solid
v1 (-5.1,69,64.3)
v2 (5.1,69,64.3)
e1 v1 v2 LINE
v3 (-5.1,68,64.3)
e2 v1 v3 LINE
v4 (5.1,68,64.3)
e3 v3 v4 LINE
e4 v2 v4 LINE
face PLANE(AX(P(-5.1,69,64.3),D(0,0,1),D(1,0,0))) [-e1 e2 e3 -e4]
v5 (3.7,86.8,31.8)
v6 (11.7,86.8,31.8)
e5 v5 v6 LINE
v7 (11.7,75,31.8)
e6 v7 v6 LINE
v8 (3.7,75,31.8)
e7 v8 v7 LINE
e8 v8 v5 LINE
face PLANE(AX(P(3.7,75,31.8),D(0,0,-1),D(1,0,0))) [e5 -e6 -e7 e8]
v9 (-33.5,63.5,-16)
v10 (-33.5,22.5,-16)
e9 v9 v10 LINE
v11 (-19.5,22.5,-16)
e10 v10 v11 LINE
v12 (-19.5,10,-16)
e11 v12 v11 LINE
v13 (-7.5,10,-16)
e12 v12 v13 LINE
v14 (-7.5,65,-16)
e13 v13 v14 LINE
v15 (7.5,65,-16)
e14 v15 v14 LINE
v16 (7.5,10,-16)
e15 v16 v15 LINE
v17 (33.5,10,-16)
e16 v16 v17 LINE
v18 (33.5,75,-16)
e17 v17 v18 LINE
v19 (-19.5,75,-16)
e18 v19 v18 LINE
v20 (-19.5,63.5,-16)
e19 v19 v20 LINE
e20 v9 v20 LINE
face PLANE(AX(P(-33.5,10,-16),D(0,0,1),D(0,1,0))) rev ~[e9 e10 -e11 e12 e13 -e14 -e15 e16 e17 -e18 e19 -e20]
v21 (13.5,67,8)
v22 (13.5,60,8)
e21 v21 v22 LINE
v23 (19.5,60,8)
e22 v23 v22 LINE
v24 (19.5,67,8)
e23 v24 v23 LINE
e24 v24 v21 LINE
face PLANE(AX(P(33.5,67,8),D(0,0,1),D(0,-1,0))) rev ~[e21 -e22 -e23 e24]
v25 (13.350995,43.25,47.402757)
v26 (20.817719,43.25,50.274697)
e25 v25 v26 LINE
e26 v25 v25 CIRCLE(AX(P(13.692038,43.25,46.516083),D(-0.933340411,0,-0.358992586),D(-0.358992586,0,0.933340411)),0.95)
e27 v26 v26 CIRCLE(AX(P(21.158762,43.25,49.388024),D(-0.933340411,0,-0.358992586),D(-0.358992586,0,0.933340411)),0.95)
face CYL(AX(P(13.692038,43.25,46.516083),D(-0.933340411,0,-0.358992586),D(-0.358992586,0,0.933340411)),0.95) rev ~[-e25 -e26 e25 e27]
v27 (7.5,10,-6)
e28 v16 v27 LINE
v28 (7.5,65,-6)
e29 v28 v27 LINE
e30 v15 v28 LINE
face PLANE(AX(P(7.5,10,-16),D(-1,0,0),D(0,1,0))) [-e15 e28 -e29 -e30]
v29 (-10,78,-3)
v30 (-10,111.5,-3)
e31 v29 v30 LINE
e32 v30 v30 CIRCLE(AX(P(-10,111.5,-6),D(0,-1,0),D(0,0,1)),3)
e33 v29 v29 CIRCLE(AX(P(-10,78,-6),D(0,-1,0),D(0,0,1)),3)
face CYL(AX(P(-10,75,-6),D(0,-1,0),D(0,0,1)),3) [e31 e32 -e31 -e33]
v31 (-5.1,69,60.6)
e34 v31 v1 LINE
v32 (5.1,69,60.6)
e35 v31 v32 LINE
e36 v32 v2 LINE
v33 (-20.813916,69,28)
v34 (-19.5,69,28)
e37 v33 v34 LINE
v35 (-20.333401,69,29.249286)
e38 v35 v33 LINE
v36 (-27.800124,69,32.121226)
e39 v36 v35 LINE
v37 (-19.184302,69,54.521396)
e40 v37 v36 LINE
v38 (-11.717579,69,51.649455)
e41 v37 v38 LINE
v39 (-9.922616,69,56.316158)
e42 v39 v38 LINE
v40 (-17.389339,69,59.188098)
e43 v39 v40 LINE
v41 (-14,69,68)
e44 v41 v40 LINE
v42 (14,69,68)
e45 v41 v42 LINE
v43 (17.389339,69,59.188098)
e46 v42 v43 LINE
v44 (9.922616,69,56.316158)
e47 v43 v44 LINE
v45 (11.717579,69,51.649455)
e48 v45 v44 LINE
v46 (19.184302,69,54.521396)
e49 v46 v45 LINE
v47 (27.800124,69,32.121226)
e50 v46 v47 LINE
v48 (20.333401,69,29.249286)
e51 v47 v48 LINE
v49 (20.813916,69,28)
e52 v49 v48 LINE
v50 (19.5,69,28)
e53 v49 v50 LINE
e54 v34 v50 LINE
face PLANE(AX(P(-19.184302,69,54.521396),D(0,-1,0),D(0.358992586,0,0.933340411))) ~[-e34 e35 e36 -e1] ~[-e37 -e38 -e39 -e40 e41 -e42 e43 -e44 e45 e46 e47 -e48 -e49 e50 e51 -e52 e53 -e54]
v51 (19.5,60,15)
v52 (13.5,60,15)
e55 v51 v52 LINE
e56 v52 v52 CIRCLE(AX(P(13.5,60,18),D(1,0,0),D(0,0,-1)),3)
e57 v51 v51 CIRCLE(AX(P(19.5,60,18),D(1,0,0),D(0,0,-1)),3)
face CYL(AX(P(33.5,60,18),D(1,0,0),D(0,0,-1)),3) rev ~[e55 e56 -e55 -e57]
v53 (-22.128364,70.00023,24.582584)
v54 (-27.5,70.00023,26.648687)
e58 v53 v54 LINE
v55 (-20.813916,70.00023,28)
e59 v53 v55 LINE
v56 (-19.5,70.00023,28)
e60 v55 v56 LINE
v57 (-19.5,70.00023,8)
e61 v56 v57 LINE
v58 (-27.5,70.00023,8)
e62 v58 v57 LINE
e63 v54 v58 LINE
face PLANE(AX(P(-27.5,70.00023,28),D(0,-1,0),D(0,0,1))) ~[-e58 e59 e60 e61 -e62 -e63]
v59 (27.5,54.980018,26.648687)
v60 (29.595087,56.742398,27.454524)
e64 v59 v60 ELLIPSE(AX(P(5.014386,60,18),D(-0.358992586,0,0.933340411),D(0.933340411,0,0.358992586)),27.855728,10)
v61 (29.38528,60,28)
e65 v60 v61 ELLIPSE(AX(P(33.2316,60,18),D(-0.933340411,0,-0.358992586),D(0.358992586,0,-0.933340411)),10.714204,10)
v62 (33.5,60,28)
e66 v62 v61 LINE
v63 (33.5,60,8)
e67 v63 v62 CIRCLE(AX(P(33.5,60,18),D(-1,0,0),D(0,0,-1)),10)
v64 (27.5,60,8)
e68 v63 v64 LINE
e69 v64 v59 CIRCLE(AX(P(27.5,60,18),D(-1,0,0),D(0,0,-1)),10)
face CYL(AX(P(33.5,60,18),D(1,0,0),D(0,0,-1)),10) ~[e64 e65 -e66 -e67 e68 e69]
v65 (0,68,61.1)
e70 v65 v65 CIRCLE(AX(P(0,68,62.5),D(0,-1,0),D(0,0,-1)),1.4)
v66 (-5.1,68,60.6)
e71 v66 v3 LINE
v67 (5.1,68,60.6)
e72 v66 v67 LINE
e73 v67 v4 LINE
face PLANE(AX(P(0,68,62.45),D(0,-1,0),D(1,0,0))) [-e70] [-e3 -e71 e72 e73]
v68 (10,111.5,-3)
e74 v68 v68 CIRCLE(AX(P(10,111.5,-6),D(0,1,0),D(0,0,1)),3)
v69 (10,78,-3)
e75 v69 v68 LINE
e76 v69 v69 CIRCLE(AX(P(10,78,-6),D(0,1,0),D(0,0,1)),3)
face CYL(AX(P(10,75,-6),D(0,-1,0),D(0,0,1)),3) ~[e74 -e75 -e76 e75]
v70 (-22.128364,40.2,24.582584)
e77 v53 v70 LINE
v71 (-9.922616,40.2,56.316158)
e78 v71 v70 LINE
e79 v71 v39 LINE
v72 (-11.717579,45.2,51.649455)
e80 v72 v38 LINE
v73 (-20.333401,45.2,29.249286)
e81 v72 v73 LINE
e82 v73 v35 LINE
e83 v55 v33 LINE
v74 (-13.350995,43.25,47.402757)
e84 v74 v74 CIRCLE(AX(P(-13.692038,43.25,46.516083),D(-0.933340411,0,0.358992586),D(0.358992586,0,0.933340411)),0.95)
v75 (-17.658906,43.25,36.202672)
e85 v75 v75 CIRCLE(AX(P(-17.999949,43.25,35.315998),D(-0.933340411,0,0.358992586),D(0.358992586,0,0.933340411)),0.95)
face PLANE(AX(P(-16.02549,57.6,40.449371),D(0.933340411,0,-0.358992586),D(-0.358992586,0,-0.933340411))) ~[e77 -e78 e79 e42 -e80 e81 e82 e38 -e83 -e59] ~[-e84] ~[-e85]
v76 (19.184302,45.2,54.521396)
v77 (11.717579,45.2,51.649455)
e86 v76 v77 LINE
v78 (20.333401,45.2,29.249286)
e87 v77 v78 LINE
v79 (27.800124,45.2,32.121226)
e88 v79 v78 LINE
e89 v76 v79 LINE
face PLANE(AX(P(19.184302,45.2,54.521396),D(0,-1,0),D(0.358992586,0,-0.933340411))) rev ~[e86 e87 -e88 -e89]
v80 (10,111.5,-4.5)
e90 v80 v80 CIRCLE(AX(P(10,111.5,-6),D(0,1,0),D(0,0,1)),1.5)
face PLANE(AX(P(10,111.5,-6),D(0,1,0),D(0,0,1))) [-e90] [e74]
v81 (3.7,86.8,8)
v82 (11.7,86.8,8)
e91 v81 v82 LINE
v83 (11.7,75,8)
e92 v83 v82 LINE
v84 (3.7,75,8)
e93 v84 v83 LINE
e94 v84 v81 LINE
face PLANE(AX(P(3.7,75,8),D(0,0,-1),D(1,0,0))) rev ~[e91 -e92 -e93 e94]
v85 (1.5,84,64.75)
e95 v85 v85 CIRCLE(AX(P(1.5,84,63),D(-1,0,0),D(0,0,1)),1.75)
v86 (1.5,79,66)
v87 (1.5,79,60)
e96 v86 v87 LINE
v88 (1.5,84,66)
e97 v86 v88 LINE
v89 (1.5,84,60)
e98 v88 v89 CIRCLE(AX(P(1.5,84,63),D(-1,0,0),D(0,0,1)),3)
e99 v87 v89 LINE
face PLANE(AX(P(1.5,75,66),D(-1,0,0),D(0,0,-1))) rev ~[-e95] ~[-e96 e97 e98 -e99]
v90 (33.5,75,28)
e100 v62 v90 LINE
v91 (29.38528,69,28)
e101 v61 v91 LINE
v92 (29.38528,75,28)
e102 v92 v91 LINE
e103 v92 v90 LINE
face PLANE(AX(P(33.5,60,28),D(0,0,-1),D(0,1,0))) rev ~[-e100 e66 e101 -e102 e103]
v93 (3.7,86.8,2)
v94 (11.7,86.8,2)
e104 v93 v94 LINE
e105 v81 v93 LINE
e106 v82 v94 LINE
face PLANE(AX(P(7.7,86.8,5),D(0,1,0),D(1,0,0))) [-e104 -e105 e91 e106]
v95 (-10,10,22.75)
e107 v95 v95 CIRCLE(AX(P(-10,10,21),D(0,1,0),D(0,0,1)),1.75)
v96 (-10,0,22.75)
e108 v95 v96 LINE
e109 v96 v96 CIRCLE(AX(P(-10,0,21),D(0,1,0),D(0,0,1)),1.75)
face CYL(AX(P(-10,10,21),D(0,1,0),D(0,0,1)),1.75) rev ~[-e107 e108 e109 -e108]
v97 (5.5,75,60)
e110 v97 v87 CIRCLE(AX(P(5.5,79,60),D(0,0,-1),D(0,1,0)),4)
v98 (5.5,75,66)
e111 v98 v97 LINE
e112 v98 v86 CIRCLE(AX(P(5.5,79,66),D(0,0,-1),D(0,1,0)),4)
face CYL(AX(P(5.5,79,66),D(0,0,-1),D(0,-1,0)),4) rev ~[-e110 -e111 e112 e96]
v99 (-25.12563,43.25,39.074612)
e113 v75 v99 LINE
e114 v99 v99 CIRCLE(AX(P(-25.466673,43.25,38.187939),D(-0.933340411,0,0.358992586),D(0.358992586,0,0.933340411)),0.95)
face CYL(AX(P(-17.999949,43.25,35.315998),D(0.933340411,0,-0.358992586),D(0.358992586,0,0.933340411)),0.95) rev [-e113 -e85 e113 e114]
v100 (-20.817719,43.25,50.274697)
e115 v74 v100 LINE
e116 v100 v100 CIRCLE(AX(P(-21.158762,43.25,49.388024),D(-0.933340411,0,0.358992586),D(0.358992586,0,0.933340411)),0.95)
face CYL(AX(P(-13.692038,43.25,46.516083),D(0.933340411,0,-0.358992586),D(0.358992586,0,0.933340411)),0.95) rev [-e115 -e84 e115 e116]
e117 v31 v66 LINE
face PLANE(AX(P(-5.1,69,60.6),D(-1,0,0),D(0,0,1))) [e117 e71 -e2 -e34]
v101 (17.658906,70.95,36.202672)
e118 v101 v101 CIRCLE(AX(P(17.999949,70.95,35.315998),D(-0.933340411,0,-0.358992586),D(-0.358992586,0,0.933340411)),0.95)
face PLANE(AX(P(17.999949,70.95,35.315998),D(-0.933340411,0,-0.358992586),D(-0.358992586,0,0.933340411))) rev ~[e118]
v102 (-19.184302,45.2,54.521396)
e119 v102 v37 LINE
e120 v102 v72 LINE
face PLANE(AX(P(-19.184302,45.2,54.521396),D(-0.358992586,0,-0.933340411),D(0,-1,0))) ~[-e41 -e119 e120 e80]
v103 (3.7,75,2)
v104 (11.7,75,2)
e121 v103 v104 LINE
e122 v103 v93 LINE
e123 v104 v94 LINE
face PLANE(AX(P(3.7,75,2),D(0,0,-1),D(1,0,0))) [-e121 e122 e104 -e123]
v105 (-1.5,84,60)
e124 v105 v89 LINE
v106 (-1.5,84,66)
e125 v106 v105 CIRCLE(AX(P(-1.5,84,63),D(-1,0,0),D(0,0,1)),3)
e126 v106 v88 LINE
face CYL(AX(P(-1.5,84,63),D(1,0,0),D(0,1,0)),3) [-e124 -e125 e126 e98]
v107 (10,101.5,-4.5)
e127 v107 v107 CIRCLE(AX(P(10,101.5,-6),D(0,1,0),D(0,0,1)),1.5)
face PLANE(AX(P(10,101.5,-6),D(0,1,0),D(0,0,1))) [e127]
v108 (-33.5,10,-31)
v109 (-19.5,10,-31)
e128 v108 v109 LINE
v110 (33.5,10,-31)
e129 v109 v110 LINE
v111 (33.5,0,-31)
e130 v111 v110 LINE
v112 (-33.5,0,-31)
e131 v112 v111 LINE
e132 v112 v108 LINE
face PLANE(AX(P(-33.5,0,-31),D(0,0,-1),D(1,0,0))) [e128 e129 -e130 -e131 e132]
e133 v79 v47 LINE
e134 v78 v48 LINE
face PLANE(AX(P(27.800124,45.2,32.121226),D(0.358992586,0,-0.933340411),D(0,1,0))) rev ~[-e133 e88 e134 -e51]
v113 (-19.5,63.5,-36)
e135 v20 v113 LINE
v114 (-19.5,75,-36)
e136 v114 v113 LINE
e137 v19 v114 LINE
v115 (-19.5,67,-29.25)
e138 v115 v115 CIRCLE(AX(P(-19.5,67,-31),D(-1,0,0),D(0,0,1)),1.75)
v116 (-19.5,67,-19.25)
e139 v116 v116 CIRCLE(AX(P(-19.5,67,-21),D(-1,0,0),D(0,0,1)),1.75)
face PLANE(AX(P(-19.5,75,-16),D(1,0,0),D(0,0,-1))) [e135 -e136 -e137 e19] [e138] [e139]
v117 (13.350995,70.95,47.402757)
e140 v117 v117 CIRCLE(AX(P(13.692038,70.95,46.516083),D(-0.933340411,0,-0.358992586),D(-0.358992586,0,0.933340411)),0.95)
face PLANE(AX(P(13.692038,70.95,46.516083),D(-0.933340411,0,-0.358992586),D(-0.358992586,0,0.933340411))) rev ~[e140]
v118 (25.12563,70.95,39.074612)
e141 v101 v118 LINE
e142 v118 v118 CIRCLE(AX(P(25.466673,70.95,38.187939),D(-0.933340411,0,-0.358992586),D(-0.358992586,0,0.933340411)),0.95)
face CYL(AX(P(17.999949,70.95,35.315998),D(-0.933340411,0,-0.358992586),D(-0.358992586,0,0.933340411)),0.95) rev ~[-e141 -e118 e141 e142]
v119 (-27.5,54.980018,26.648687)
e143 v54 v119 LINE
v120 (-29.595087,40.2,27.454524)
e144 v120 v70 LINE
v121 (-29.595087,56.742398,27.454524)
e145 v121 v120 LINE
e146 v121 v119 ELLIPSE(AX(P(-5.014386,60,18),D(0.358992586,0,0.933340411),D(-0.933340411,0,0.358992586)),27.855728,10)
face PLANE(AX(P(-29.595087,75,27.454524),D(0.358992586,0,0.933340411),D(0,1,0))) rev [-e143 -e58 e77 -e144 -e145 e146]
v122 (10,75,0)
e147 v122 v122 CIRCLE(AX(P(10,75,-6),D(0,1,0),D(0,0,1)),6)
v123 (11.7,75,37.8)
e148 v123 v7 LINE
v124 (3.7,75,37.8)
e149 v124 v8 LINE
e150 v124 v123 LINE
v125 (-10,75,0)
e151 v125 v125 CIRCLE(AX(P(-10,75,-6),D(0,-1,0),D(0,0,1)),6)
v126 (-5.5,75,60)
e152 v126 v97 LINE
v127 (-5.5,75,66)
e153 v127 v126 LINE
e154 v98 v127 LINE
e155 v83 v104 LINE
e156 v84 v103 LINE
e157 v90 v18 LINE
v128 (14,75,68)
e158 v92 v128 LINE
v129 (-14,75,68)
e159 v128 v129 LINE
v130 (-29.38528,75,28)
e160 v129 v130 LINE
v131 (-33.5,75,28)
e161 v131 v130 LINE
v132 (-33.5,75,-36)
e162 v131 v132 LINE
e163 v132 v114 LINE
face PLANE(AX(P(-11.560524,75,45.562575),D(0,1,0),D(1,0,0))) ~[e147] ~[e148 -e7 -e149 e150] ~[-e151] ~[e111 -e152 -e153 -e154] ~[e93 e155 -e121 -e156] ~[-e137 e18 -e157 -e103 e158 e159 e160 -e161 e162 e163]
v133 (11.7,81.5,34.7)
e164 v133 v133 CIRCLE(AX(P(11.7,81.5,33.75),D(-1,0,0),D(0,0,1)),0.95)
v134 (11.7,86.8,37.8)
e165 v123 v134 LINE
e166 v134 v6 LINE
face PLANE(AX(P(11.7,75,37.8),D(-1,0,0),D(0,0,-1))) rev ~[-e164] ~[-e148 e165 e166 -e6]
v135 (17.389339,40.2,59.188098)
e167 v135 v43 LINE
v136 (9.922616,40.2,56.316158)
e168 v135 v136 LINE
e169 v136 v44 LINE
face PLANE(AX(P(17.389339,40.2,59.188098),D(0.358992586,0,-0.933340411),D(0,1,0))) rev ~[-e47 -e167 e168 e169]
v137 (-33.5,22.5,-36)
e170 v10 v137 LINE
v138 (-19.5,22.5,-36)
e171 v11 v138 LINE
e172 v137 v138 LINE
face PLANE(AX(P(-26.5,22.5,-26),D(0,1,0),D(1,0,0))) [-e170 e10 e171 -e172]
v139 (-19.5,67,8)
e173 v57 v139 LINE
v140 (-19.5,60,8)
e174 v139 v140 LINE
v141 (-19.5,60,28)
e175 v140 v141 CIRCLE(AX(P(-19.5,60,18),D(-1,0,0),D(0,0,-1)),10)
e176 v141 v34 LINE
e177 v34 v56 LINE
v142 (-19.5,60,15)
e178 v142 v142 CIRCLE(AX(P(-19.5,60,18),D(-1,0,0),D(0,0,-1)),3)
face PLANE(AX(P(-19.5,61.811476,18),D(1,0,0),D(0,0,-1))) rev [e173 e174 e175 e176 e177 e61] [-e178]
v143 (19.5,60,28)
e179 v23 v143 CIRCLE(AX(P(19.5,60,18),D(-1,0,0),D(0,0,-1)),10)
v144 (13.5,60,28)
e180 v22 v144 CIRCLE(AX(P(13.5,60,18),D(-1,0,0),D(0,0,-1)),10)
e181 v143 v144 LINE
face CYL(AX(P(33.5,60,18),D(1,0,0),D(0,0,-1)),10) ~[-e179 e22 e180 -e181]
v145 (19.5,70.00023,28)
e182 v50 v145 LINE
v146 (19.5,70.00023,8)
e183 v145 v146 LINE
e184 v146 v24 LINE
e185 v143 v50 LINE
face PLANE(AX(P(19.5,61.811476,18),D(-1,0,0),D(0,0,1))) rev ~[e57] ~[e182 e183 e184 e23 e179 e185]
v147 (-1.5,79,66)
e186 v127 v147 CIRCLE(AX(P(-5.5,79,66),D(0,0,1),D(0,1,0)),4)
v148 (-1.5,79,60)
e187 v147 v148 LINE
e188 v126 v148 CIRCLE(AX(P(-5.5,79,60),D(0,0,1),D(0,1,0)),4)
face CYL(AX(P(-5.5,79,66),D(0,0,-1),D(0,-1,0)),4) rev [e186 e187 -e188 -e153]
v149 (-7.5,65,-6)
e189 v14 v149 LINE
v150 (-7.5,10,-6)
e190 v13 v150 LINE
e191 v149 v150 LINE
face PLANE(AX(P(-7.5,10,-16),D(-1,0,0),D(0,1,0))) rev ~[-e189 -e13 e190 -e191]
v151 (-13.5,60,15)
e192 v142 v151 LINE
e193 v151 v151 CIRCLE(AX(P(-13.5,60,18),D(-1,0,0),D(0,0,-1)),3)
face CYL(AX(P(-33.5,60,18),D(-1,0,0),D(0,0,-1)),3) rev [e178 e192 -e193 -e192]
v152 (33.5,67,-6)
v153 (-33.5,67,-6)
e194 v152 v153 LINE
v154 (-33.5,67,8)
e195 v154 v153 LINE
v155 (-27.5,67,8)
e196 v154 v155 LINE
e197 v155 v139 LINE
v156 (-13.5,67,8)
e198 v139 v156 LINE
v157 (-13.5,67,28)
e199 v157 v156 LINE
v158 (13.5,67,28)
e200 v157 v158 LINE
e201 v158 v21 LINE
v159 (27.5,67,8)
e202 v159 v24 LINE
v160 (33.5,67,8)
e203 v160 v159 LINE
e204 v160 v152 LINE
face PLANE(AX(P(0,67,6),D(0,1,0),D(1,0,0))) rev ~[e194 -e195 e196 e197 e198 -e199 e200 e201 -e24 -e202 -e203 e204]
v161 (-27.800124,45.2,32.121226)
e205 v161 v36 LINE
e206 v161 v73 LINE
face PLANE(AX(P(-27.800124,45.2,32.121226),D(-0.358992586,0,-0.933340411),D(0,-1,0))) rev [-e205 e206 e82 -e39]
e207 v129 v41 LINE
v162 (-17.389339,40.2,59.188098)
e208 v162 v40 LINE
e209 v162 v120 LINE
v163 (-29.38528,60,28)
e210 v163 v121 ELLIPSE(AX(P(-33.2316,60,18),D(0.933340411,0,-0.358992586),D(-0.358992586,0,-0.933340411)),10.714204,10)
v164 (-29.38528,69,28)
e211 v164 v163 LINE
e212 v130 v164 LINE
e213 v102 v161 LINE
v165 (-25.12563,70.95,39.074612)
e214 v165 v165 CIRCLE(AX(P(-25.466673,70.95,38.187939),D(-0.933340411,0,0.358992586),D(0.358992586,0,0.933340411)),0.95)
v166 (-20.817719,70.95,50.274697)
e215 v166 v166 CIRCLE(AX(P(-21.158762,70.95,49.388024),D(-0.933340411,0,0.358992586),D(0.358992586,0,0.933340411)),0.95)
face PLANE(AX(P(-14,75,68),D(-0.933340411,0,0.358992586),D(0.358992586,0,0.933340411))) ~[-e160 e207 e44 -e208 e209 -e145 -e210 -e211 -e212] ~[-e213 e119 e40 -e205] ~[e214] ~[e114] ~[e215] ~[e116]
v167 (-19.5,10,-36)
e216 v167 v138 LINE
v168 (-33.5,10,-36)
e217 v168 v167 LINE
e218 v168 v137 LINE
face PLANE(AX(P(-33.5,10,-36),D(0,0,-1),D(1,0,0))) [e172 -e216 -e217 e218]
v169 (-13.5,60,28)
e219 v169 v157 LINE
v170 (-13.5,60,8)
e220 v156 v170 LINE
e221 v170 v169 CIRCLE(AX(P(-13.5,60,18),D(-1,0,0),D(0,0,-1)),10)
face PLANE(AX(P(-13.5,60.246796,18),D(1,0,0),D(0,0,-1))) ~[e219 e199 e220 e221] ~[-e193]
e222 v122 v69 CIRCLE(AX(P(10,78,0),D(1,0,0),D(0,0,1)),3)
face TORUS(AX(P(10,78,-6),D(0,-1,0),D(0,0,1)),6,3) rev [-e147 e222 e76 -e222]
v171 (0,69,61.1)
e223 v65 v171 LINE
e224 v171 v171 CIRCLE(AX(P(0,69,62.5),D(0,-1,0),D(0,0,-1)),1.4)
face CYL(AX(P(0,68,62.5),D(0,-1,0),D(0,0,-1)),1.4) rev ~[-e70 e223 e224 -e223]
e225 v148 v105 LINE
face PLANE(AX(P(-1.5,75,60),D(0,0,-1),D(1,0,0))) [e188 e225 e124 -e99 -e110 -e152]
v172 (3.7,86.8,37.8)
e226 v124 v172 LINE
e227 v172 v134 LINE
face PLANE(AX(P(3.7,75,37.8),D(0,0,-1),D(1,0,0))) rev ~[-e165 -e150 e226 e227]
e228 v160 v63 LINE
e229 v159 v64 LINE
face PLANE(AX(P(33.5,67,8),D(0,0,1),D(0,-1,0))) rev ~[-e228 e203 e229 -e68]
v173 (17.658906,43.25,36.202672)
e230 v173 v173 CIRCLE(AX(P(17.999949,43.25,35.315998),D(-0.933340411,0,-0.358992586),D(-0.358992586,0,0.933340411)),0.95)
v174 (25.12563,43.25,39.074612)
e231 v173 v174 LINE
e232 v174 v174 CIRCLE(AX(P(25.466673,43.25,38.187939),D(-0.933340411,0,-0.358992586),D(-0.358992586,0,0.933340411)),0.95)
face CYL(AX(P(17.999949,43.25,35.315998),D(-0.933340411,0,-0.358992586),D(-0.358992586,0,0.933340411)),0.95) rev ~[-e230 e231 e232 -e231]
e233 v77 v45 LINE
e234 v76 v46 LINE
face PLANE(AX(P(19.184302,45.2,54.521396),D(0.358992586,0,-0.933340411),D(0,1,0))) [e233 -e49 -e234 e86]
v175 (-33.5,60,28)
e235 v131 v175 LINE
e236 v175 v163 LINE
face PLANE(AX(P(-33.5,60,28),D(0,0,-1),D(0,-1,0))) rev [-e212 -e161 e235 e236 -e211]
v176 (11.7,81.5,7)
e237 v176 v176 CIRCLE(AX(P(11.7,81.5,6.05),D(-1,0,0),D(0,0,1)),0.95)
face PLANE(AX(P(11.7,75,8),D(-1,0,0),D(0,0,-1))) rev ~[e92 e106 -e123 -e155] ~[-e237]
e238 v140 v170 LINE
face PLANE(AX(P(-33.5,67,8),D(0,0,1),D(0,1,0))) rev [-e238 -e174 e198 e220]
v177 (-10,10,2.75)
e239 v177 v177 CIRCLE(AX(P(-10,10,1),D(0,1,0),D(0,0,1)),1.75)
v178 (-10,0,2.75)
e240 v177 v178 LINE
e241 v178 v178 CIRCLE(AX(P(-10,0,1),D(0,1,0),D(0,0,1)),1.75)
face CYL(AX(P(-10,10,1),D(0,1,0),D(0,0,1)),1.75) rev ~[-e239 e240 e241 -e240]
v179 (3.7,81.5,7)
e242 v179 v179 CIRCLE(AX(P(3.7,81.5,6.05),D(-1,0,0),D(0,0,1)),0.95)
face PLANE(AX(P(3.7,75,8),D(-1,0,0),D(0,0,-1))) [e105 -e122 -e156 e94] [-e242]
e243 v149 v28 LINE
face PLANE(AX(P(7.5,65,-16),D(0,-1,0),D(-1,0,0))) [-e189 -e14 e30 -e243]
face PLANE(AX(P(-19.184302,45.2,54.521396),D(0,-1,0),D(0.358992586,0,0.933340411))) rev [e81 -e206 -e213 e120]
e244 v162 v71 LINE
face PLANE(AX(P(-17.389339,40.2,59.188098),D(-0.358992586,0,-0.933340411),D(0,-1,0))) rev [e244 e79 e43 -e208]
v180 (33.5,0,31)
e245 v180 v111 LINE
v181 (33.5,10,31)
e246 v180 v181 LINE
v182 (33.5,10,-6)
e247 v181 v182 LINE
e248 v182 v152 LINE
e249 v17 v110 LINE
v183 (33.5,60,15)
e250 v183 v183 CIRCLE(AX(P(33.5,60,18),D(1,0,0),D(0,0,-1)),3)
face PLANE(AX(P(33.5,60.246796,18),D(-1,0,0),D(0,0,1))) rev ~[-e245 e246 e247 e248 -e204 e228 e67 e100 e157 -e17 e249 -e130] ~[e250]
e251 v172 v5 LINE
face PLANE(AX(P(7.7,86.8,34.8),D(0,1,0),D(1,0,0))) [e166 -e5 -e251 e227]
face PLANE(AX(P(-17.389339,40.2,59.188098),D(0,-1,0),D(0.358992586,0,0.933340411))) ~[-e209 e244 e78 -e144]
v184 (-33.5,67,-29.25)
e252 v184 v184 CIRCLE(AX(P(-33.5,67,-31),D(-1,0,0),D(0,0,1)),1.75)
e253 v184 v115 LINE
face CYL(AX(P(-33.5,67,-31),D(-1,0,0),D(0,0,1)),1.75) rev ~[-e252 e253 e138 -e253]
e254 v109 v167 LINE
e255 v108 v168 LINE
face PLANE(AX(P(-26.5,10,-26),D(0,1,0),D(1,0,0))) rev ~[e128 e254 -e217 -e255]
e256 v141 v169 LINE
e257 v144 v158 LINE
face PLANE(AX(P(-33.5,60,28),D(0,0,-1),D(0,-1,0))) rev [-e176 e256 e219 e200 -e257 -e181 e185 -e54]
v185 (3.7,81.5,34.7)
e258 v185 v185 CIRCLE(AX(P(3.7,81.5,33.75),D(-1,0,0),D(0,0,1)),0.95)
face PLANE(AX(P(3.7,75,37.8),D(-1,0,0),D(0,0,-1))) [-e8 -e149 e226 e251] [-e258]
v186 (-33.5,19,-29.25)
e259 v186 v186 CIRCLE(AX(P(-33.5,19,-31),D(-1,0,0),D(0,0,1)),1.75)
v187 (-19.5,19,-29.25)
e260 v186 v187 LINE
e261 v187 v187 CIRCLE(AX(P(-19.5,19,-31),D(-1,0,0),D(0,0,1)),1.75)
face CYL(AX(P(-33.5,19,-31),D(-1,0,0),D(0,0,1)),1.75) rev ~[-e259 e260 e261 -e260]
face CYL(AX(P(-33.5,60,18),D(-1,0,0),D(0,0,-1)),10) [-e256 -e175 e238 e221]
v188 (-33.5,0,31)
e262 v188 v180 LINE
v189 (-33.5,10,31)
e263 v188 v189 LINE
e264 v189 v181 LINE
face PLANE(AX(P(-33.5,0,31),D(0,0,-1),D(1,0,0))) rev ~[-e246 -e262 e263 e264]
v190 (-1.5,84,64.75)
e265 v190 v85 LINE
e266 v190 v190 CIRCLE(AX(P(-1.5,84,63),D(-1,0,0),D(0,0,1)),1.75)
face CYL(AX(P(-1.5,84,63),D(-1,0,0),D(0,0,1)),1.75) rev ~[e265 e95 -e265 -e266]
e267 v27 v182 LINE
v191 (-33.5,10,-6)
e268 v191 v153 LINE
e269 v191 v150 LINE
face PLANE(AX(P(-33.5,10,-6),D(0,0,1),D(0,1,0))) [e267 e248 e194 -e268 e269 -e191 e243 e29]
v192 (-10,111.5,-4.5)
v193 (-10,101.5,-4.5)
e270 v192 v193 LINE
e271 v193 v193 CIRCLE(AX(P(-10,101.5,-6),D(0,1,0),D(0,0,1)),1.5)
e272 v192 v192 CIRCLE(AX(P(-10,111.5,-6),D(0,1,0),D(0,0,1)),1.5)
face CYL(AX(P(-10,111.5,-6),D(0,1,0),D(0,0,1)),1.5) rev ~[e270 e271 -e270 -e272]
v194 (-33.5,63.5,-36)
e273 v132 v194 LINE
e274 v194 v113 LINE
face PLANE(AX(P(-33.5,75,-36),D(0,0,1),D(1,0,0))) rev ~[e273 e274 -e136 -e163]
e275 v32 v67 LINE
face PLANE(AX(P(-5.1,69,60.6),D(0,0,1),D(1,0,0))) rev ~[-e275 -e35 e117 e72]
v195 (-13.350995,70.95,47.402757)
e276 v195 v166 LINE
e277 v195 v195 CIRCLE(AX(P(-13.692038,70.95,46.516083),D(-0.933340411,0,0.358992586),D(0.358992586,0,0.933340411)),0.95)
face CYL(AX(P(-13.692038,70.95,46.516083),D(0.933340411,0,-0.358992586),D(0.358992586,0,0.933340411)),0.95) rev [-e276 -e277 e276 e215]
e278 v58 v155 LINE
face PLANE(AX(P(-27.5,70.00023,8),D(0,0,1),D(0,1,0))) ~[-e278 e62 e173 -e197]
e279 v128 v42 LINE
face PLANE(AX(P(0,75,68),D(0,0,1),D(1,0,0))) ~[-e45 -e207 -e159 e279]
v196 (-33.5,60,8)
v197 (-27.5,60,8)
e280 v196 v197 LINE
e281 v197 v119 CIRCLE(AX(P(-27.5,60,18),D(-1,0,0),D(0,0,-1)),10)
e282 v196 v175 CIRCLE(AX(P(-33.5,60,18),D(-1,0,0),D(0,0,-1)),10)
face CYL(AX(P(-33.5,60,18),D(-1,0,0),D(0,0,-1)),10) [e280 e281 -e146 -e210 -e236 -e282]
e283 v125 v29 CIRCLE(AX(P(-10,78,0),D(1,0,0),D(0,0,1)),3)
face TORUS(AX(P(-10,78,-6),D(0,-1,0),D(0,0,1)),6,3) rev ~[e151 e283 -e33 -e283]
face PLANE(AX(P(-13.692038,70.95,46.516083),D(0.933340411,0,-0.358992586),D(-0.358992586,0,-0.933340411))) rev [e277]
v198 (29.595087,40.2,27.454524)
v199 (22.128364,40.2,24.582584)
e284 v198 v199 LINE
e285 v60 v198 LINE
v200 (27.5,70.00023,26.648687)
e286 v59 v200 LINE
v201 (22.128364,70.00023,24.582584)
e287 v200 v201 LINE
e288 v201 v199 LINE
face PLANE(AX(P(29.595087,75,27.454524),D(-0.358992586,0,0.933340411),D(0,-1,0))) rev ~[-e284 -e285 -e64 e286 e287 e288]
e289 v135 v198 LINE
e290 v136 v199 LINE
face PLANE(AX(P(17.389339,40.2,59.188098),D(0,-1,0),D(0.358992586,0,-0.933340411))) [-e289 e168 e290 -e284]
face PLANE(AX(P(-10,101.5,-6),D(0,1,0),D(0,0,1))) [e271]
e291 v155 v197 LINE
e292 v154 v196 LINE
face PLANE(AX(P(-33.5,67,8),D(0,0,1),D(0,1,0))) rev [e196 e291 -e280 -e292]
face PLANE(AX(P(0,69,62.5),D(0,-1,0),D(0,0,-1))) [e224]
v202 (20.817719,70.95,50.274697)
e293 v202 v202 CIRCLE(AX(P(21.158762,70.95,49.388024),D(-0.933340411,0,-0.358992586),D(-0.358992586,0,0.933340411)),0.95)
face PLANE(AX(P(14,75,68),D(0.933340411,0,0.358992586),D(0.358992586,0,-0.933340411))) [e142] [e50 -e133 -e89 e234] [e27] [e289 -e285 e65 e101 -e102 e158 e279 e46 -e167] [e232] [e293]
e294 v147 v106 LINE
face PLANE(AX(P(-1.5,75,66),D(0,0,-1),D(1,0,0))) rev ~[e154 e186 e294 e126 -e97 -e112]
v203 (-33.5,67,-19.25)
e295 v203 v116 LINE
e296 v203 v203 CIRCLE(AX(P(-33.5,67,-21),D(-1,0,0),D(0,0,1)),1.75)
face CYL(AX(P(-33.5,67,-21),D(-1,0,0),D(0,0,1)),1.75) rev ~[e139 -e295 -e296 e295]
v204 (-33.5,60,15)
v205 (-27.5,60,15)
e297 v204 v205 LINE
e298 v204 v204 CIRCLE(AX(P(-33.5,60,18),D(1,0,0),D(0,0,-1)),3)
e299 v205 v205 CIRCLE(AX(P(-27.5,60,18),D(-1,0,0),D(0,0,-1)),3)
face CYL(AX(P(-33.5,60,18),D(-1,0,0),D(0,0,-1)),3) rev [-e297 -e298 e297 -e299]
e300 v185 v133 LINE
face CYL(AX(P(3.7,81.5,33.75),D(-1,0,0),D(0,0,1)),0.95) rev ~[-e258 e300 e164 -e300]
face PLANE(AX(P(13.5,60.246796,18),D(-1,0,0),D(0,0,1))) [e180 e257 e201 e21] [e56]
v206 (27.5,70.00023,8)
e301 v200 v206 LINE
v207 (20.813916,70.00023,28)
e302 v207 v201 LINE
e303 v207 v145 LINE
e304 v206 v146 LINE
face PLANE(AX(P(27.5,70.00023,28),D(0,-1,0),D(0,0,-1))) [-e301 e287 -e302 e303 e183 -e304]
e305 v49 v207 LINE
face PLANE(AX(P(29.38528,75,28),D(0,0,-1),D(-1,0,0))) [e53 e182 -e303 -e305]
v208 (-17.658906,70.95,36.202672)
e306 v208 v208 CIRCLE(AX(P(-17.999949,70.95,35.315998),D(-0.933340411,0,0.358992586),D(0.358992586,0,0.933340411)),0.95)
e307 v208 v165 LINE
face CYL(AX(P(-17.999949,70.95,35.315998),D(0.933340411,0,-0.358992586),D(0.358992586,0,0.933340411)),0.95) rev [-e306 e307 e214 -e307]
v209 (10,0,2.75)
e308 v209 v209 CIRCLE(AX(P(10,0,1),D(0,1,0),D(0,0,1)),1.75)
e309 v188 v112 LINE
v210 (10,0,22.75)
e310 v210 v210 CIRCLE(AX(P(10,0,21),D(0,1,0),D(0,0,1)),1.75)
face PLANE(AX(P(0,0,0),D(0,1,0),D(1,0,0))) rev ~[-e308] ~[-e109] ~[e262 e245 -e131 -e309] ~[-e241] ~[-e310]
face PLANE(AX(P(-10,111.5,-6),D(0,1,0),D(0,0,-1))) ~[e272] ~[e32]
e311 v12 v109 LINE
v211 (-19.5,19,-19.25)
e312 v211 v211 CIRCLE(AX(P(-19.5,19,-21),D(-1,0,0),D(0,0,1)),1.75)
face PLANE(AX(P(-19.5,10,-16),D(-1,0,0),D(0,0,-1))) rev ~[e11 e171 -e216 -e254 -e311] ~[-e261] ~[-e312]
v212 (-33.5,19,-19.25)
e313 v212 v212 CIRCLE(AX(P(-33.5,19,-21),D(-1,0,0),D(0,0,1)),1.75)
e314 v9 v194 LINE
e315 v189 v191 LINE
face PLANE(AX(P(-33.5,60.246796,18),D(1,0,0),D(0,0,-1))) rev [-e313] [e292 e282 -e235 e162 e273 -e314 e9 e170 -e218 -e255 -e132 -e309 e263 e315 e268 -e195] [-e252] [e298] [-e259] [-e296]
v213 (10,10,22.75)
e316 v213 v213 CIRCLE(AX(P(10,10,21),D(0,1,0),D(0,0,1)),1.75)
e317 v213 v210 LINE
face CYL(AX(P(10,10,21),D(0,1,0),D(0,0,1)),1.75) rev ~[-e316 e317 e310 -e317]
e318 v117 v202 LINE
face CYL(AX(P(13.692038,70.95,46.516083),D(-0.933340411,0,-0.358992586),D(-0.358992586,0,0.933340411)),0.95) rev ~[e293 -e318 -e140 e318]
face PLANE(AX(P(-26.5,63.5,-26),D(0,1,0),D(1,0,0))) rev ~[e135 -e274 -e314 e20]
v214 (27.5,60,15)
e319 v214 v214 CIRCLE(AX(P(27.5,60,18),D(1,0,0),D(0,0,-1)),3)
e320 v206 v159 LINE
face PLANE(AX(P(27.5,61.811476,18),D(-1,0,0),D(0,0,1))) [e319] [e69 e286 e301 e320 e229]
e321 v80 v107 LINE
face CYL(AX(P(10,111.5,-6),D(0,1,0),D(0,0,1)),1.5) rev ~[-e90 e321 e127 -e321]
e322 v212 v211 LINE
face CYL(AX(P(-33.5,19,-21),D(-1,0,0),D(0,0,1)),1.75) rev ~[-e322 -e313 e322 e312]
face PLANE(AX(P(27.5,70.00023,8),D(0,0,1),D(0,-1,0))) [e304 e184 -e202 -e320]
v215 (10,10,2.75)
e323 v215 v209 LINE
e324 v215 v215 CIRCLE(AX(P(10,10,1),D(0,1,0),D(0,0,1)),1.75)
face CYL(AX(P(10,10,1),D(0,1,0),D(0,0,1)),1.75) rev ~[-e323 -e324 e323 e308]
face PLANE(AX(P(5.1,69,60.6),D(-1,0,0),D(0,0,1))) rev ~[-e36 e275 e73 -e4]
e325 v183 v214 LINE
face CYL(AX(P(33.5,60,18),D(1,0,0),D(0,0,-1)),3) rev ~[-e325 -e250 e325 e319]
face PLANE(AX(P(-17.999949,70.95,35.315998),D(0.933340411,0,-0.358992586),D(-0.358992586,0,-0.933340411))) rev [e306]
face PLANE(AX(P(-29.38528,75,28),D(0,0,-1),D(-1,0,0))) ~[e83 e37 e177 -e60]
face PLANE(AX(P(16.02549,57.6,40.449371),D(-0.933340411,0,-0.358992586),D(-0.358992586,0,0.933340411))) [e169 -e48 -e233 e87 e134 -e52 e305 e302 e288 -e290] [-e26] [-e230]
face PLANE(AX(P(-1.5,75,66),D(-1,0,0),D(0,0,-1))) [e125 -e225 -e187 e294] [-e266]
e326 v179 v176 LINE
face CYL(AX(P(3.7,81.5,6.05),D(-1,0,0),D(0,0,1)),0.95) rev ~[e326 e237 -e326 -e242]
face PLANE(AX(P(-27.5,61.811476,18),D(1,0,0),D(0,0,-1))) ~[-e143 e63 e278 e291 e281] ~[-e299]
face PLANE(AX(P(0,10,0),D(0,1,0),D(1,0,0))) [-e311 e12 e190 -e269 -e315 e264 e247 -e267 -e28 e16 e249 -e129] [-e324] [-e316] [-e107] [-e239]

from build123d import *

# Parameters (mm, degrees)
SKETCH_1_W             = 67
SKETCH_1_H             = 62
EXTRUDE_1_DEPTH        = 10
SKETCH_3_W             = 14
SKETCH_3_H             = 20
EXTRUDE_2_DEPTH        = 12.5
SKETCH_4_W             = 10
SKETCH_4_H             = 65
EXTRUDE_3_DEPTH        = 67
SKETCH_5_W             = 67
SKETCH_5_H             = 44
EXTRUDE_4_DEPTH        = 8
EXTRUDE_5_DEPTH        = 20
CUT_EXTRUDE_START      = -6
CUT_EXTRUDE_1_DEPTH    = 8
EXTRUDE_6_DEPTH        = 6
SKETCH_9_R             = 3
CUT_EXTRUDE_2_DEPTH    = 23
SKETCH_10_W            = 24
SKETCH_10_H            = 23.8
EXTRUDE_7_DEPTH        = 8
SKETCH_12_W            = 14
SKETCH_12_H            = 20
EXTRUDE_8_DEPTH        = 11.5
SKETCH_13_R            = 0.95
CUT_EXTRUDE_4_DEPTH    = 8
SKETCH_14_W            = 8
SKETCH_14_H            = 6
EXTRUDE_9_DEPTH        = 11.8
SKETCH_15_R            = 0.95
CUT_EXTRUDE_5_DEPTH    = 11.8
SKETCH_16_W            = 3
SKETCH_16_H            = 6
EXTRUDE_10_DEPTH       = 12
FILLET_1_RADIUS        = 3
FILLET_1_LENGTH        = 3
SKETCH_17_R            = 1.75
CUT_EXTRUDE_6_DEPTH    = 7
SKETCH_18_R            = 3
EXTRUDE_11_DEPTH       = 36.5
FILLET_2_R             = 3
FILLET_2_OF_MIRROR_1_R = 3
SKETCH_20_R            = 1.75
CUT_EXTRUDE_7_DEPTH    = 35
SKETCH_21_W            = 15
SKETCH_21_H            = 55
CUT_EXTRUDE_8_DEPTH    = 35
SKETCH_24_R            = 1.75
CUT_EXTRUDE_11_DEPTH   = 18
SKETCH_25_R            = 1.5
CUT_EXTRUDE_12_DEPTH   = 10
FILLET_3_R             = 4
SKETCH_26_W            = 10.2
SKETCH_26_H            = 3.7
EXTRUDE_12_DEPTH       = 1
SKETCH_28_R            = 1.4
CUT_EXTRUDE_13_DEPTH   = 1


with BuildPart() as part:
    # 草图1 → 凸台-拉伸1 (new body)
    with BuildSketch(Plane(origin=(0, 0, 0), x_dir=(1, 0, 0), z_dir=(0, 1, 0))):
        Rectangle(SKETCH_1_W, SKETCH_1_H)
    extrude(amount=EXTRUDE_1_DEPTH)

    # 草图3 → 凸台-拉伸2 (add)
    with BuildSketch(Plane(origin=(0, 10, 0), x_dir=(1, 0, 0), z_dir=(0, 1, 0))):
        with Locations((-26.5, 26)):
            Rectangle(SKETCH_3_W, SKETCH_3_H)
    extrude(amount=EXTRUDE_2_DEPTH)

    # 草图4 → 凸台-拉伸3 (add)
    with BuildSketch(Plane.ZY.offset(33.5)):
        with Locations((-11, 42.5)):
            Rectangle(SKETCH_4_W, SKETCH_4_H)
    extrude(amount=-EXTRUDE_3_DEPTH)

    # 草图5 → 凸台-拉伸4 (add)
    with BuildSketch(Plane(origin=(0, 75, 0), x_dir=(1, 0, 0), z_dir=(0, 1, 0))):
        with Locations((0, -6)):
            Rectangle(SKETCH_5_W, SKETCH_5_H)
    extrude(amount=-EXTRUDE_4_DEPTH)

    # 草图6 → 凸台-拉伸5 (add)
    with BuildSketch(Plane(origin=(33.5, 0, 0), x_dir=(0, 0, -1), z_dir=(1, 0, 0))):
        with BuildLine():
            Line((-28, 60), (-28, 67))
            Line((-28, 67), (-8, 67))
            Line((-8, 67), (-8, 60))
            ThreePointArc((-8, 60), (-18, 50), (-28, 60))
        make_face()
    extrude_5 = extrude(amount=-EXTRUDE_5_DEPTH)

    # 草图7 → 切除-拉伸1 (cut)
    with BuildSketch(Plane(origin=(33.5, 0, 0), x_dir=(0, 0, -1), z_dir=(1, 0, 0)).offset(CUT_EXTRUDE_START)):
        with BuildLine():
            Line((-28, 60), (-28, 70.000230089))
            Line((-28, 70.000230089), (-8, 70.000230089))
            Line((-8, 70.000230089), (-8, 60))
            ThreePointArc((-8, 60), (-18, 50), (-28, 60))
        make_face()
    cut_extrude_1 = extrude(amount=-CUT_EXTRUDE_1_DEPTH, mode=Mode.SUBTRACT)

    # 草图8 → 凸台-拉伸6 (add)
    with BuildSketch(Plane(origin=(0, 75, 0), x_dir=(1, 0, 0), z_dir=(0, 1, 0))):
        Polygon((0, -68), (14, -68), (29.38527986, -28), (0, -28), align=None)
    extrude_6 = extrude(amount=-EXTRUDE_6_DEPTH)

    # 草图9 → 切除-拉伸2 (cut)
    with BuildSketch(Plane(origin=(33.5, 0, 0), x_dir=(0, 0, -1), z_dir=(1, 0, 0))):
        with Locations((-18, 60)):
            Circle(SKETCH_9_R)
    cut_extrude_2 = extrude(amount=-CUT_EXTRUDE_2_DEPTH, mode=Mode.SUBTRACT)

    # 草图10 → 凸台-拉伸7 (add)
    with BuildSketch(Plane(origin=(34.979976089, 0, 13.454418041), x_dir=(0.3589925858064443, 0, -0.933340411284116), z_dir=(0.9333404112841159, 0, 0.3589925858064442))):
        Polygon((-44, 75), (-15, 75), (-15, 40.2), (-43, 40.2), (-49, 40.2), (-49, 75), align=None)
        with Locations((-32, 57.1)):
            Rectangle(SKETCH_10_W, SKETCH_10_H, mode=Mode.SUBTRACT)
    extrude_7 = extrude(amount=-EXTRUDE_7_DEPTH)

    # 草图12 → 凸台-拉伸8 (add)
    with BuildSketch(Plane(origin=(0, 75, 0), x_dir=(1, 0, 0), z_dir=(0, 1, 0))):
        with Locations((-26.5, 26)):
            Rectangle(SKETCH_12_W, SKETCH_12_H)
    extrude(amount=-EXTRUDE_8_DEPTH)

    # 草图13 → 切除-拉伸4 (cut)
    with BuildSketch(Plane(origin=(27.513252799, 0, 10.582477354), x_dir=(-0.3589925858064441, 0, 0.9333404112841162), z_dir=(-0.9333404112841162, 0, -0.3589925858064441))):
        with Locations((38.5, 70.95)):
            Circle(SKETCH_13_R)
        with Locations((26.5, 70.95)):
            Circle(SKETCH_13_R)
        with Locations((26.5, 43.25)):
            Circle(SKETCH_13_R)
        with Locations((38.5, 43.25)):
            Circle(SKETCH_13_R)
    cut_extrude_4 = extrude(amount=-CUT_EXTRUDE_4_DEPTH, mode=Mode.SUBTRACT)

    # 草图14 → 凸台-拉伸9 (add)
    with BuildSketch(Plane(origin=(0, 75, 0), x_dir=(1, 0, 0), z_dir=(0, 1, 0))):
        with Locations((7.7, -5)):
            Rectangle(SKETCH_14_W, SKETCH_14_H)
        with Locations((7.7, -34.8)):
            Rectangle(SKETCH_14_W, SKETCH_14_H)
    extrude(amount=EXTRUDE_9_DEPTH)

    # 草图15 → 切除-拉伸5 (cut)
    with BuildSketch(Plane.ZY.offset(-3.7)):
        with Locations((33.75, 81.5)):
            Circle(SKETCH_15_R)
        with Locations((6.05, 81.5)):
            Circle(SKETCH_15_R)
    extrude(amount=-CUT_EXTRUDE_5_DEPTH, mode=Mode.SUBTRACT)

    # 草图16 → 凸台-拉伸10 (add)
    with BuildSketch(Plane(origin=(0, 75, 0), x_dir=(1, 0, 0), z_dir=(0, 1, 0))):
        with Locations((0, -63)):
            Rectangle(SKETCH_16_W, SKETCH_16_H)
    extrude(amount=EXTRUDE_10_DEPTH)

    # 圆角1: full round fillet: the end face becomes a half cylinder, R = half its width
    fillet_1_face = Plane((0, 87, 63), x_dir=(1, 0, 0), z_dir=(0, 1, 0))  # on the end face: x along it, z out of the body
    fillet_1_slab = fillet_1_face.offset(-FILLET_1_RADIUS / 2) * Box(FILLET_1_LENGTH, 2 * FILLET_1_RADIUS, FILLET_1_RADIUS, mode=Mode.PRIVATE)  # the body's end, R deep
    fillet_1_round = Plane((0, 84, 63), x_dir=(0, 1, 0), z_dir=(1, 0, 0)) * Cylinder(FILLET_1_RADIUS, FILLET_1_LENGTH, mode=Mode.PRIVATE)  # its axis R under the face
    add(fillet_1_slab - fillet_1_round, mode=Mode.SUBTRACT)

    # 草图17 → 切除-拉伸6 (cut)
    with BuildSketch(Plane.ZY.offset(1.5)):
        with Locations((63, 84)):
            Circle(SKETCH_17_R)
    extrude(amount=-CUT_EXTRUDE_6_DEPTH, mode=Mode.SUBTRACT)

    # 草图18 → 凸台-拉伸11 (add)
    with BuildSketch(Plane(origin=(0, 75, 0), x_dir=(1, 0, 0), z_dir=(0, 1, 0))):
        with Locations(Location((10, 6, 0), (0, 0, 270))):
            Circle(SKETCH_18_R)
    extrude_11 = extrude(amount=EXTRUDE_11_DEPTH)

    # 圆角2
    fillet_2_edges = [part.edges().sort_by_distance(p)[0] for p in [
        (10, 75, -9),
    ]]
    fillet(fillet_2_edges, radius=FILLET_2_R)

    # 镜向1: 凸台-拉伸5, 切除-拉伸1, 凸台-拉伸6, 切除-拉伸2, 凸台-拉伸7, 切除-拉伸4, 凸台-拉伸11 across plane
    add(extrude_5.mirror(Plane(origin=(0, 0, 0), x_dir=(0, 0, 1), z_dir=(1, 0, 0))))
    add(cut_extrude_1.mirror(Plane(origin=(0, 0, 0), x_dir=(0, 0, 1), z_dir=(1, 0, 0))), mode=Mode.SUBTRACT)
    add(extrude_6.mirror(Plane(origin=(0, 0, 0), x_dir=(0, 0, 1), z_dir=(1, 0, 0))))
    add(cut_extrude_2.mirror(Plane(origin=(0, 0, 0), x_dir=(0, 0, 1), z_dir=(1, 0, 0))), mode=Mode.SUBTRACT)
    add(extrude_7.mirror(Plane(origin=(0, 0, 0), x_dir=(0, 0, 1), z_dir=(1, 0, 0))))
    add(cut_extrude_4.mirror(Plane(origin=(0, 0, 0), x_dir=(0, 0, 1), z_dir=(1, 0, 0))), mode=Mode.SUBTRACT)
    add(extrude_11.mirror(Plane(origin=(0, 0, 0), x_dir=(0, 0, 1), z_dir=(1, 0, 0))))

    # 圆角2 of 镜向1
    fillet_2_of_mirror_1_edges = [part.edges().sort_by_distance(p)[0] for p in [
        (-10, 75, -9),
    ]]
    fillet(fillet_2_of_mirror_1_edges, radius=FILLET_2_OF_MIRROR_1_R)

    # 草图20 → 切除-拉伸7 (cut)
    with BuildSketch(Plane.ZY.offset(33.5)):
        with Locations((-31, 67)):
            Circle(SKETCH_20_R)
        with Locations((-21, 67)):
            Circle(SKETCH_20_R)
        with Locations((-31, 19)):
            Circle(SKETCH_20_R)
        with Locations((-21, 19)):
            Circle(SKETCH_20_R)
    extrude(amount=-CUT_EXTRUDE_7_DEPTH, mode=Mode.SUBTRACT)

    # 草图21 → 切除-拉伸8 (cut)
    with BuildSketch(Plane(origin=(0, 0, -16), x_dir=(-1, 0, 0), z_dir=(0, 0, -1))):
        with Locations((0, 37.5)):
            Rectangle(SKETCH_21_W, SKETCH_21_H)
    extrude(amount=-CUT_EXTRUDE_8_DEPTH, mode=Mode.SUBTRACT)

    # 草图24 → 切除-拉伸11 (cut)
    with BuildSketch(Plane(origin=(0, 10, 0), x_dir=(1, 0, 0), z_dir=(0, 1, 0))):
        with Locations(Location((-10, -21, 0), (0, 0, 270))):
            Circle(SKETCH_24_R)
        with Locations(Location((10, -21, 0), (0, 0, 270))):
            Circle(SKETCH_24_R)
        with Locations(Location((-10, -1, 0), (0, 0, 270))):
            Circle(SKETCH_24_R)
        with Locations(Location((10, -1, 0), (0, 0, 270))):
            Circle(SKETCH_24_R)
    extrude(amount=-CUT_EXTRUDE_11_DEPTH, mode=Mode.SUBTRACT)

    # 草图25 → 切除-拉伸12 (cut)
    with BuildSketch(Plane(origin=(0, 111.5, 0), x_dir=(1, 0, 0), z_dir=(0, 1, 0))):
        with Locations(Location((10, 6, 0), (0, 0, 270))):
            Circle(SKETCH_25_R)
        with Locations(Location((-10, 6, 0), (0, 0, 270))):
            Circle(SKETCH_25_R)
    extrude(amount=-CUT_EXTRUDE_12_DEPTH, mode=Mode.SUBTRACT)

    # 圆角3
    fillet_3_edges = [part.edges().sort_by_distance(p)[0] for p in [
        (-1.5, 75, 63),
        (1.5, 75, 63),
    ]]
    fillet(fillet_3_edges, radius=FILLET_3_R)

    # 草图26 → 凸台-拉伸12 (add)
    with BuildSketch(Plane.XZ.offset(-69)):
        with Locations((0, 62.45)):
            Rectangle(SKETCH_26_W, SKETCH_26_H)
    extrude(amount=EXTRUDE_12_DEPTH)

    # 草图28 → 切除-拉伸13 (cut)
    with BuildSketch(Plane.XZ.offset(-68)):
        with Locations(Location((0, 62.5, 0), (0, 0, 270))):
            Circle(SKETCH_28_R)
    extrude(amount=-CUT_EXTRUDE_13_DEPTH, mode=Mode.SUBTRACT)


solid = part.part
